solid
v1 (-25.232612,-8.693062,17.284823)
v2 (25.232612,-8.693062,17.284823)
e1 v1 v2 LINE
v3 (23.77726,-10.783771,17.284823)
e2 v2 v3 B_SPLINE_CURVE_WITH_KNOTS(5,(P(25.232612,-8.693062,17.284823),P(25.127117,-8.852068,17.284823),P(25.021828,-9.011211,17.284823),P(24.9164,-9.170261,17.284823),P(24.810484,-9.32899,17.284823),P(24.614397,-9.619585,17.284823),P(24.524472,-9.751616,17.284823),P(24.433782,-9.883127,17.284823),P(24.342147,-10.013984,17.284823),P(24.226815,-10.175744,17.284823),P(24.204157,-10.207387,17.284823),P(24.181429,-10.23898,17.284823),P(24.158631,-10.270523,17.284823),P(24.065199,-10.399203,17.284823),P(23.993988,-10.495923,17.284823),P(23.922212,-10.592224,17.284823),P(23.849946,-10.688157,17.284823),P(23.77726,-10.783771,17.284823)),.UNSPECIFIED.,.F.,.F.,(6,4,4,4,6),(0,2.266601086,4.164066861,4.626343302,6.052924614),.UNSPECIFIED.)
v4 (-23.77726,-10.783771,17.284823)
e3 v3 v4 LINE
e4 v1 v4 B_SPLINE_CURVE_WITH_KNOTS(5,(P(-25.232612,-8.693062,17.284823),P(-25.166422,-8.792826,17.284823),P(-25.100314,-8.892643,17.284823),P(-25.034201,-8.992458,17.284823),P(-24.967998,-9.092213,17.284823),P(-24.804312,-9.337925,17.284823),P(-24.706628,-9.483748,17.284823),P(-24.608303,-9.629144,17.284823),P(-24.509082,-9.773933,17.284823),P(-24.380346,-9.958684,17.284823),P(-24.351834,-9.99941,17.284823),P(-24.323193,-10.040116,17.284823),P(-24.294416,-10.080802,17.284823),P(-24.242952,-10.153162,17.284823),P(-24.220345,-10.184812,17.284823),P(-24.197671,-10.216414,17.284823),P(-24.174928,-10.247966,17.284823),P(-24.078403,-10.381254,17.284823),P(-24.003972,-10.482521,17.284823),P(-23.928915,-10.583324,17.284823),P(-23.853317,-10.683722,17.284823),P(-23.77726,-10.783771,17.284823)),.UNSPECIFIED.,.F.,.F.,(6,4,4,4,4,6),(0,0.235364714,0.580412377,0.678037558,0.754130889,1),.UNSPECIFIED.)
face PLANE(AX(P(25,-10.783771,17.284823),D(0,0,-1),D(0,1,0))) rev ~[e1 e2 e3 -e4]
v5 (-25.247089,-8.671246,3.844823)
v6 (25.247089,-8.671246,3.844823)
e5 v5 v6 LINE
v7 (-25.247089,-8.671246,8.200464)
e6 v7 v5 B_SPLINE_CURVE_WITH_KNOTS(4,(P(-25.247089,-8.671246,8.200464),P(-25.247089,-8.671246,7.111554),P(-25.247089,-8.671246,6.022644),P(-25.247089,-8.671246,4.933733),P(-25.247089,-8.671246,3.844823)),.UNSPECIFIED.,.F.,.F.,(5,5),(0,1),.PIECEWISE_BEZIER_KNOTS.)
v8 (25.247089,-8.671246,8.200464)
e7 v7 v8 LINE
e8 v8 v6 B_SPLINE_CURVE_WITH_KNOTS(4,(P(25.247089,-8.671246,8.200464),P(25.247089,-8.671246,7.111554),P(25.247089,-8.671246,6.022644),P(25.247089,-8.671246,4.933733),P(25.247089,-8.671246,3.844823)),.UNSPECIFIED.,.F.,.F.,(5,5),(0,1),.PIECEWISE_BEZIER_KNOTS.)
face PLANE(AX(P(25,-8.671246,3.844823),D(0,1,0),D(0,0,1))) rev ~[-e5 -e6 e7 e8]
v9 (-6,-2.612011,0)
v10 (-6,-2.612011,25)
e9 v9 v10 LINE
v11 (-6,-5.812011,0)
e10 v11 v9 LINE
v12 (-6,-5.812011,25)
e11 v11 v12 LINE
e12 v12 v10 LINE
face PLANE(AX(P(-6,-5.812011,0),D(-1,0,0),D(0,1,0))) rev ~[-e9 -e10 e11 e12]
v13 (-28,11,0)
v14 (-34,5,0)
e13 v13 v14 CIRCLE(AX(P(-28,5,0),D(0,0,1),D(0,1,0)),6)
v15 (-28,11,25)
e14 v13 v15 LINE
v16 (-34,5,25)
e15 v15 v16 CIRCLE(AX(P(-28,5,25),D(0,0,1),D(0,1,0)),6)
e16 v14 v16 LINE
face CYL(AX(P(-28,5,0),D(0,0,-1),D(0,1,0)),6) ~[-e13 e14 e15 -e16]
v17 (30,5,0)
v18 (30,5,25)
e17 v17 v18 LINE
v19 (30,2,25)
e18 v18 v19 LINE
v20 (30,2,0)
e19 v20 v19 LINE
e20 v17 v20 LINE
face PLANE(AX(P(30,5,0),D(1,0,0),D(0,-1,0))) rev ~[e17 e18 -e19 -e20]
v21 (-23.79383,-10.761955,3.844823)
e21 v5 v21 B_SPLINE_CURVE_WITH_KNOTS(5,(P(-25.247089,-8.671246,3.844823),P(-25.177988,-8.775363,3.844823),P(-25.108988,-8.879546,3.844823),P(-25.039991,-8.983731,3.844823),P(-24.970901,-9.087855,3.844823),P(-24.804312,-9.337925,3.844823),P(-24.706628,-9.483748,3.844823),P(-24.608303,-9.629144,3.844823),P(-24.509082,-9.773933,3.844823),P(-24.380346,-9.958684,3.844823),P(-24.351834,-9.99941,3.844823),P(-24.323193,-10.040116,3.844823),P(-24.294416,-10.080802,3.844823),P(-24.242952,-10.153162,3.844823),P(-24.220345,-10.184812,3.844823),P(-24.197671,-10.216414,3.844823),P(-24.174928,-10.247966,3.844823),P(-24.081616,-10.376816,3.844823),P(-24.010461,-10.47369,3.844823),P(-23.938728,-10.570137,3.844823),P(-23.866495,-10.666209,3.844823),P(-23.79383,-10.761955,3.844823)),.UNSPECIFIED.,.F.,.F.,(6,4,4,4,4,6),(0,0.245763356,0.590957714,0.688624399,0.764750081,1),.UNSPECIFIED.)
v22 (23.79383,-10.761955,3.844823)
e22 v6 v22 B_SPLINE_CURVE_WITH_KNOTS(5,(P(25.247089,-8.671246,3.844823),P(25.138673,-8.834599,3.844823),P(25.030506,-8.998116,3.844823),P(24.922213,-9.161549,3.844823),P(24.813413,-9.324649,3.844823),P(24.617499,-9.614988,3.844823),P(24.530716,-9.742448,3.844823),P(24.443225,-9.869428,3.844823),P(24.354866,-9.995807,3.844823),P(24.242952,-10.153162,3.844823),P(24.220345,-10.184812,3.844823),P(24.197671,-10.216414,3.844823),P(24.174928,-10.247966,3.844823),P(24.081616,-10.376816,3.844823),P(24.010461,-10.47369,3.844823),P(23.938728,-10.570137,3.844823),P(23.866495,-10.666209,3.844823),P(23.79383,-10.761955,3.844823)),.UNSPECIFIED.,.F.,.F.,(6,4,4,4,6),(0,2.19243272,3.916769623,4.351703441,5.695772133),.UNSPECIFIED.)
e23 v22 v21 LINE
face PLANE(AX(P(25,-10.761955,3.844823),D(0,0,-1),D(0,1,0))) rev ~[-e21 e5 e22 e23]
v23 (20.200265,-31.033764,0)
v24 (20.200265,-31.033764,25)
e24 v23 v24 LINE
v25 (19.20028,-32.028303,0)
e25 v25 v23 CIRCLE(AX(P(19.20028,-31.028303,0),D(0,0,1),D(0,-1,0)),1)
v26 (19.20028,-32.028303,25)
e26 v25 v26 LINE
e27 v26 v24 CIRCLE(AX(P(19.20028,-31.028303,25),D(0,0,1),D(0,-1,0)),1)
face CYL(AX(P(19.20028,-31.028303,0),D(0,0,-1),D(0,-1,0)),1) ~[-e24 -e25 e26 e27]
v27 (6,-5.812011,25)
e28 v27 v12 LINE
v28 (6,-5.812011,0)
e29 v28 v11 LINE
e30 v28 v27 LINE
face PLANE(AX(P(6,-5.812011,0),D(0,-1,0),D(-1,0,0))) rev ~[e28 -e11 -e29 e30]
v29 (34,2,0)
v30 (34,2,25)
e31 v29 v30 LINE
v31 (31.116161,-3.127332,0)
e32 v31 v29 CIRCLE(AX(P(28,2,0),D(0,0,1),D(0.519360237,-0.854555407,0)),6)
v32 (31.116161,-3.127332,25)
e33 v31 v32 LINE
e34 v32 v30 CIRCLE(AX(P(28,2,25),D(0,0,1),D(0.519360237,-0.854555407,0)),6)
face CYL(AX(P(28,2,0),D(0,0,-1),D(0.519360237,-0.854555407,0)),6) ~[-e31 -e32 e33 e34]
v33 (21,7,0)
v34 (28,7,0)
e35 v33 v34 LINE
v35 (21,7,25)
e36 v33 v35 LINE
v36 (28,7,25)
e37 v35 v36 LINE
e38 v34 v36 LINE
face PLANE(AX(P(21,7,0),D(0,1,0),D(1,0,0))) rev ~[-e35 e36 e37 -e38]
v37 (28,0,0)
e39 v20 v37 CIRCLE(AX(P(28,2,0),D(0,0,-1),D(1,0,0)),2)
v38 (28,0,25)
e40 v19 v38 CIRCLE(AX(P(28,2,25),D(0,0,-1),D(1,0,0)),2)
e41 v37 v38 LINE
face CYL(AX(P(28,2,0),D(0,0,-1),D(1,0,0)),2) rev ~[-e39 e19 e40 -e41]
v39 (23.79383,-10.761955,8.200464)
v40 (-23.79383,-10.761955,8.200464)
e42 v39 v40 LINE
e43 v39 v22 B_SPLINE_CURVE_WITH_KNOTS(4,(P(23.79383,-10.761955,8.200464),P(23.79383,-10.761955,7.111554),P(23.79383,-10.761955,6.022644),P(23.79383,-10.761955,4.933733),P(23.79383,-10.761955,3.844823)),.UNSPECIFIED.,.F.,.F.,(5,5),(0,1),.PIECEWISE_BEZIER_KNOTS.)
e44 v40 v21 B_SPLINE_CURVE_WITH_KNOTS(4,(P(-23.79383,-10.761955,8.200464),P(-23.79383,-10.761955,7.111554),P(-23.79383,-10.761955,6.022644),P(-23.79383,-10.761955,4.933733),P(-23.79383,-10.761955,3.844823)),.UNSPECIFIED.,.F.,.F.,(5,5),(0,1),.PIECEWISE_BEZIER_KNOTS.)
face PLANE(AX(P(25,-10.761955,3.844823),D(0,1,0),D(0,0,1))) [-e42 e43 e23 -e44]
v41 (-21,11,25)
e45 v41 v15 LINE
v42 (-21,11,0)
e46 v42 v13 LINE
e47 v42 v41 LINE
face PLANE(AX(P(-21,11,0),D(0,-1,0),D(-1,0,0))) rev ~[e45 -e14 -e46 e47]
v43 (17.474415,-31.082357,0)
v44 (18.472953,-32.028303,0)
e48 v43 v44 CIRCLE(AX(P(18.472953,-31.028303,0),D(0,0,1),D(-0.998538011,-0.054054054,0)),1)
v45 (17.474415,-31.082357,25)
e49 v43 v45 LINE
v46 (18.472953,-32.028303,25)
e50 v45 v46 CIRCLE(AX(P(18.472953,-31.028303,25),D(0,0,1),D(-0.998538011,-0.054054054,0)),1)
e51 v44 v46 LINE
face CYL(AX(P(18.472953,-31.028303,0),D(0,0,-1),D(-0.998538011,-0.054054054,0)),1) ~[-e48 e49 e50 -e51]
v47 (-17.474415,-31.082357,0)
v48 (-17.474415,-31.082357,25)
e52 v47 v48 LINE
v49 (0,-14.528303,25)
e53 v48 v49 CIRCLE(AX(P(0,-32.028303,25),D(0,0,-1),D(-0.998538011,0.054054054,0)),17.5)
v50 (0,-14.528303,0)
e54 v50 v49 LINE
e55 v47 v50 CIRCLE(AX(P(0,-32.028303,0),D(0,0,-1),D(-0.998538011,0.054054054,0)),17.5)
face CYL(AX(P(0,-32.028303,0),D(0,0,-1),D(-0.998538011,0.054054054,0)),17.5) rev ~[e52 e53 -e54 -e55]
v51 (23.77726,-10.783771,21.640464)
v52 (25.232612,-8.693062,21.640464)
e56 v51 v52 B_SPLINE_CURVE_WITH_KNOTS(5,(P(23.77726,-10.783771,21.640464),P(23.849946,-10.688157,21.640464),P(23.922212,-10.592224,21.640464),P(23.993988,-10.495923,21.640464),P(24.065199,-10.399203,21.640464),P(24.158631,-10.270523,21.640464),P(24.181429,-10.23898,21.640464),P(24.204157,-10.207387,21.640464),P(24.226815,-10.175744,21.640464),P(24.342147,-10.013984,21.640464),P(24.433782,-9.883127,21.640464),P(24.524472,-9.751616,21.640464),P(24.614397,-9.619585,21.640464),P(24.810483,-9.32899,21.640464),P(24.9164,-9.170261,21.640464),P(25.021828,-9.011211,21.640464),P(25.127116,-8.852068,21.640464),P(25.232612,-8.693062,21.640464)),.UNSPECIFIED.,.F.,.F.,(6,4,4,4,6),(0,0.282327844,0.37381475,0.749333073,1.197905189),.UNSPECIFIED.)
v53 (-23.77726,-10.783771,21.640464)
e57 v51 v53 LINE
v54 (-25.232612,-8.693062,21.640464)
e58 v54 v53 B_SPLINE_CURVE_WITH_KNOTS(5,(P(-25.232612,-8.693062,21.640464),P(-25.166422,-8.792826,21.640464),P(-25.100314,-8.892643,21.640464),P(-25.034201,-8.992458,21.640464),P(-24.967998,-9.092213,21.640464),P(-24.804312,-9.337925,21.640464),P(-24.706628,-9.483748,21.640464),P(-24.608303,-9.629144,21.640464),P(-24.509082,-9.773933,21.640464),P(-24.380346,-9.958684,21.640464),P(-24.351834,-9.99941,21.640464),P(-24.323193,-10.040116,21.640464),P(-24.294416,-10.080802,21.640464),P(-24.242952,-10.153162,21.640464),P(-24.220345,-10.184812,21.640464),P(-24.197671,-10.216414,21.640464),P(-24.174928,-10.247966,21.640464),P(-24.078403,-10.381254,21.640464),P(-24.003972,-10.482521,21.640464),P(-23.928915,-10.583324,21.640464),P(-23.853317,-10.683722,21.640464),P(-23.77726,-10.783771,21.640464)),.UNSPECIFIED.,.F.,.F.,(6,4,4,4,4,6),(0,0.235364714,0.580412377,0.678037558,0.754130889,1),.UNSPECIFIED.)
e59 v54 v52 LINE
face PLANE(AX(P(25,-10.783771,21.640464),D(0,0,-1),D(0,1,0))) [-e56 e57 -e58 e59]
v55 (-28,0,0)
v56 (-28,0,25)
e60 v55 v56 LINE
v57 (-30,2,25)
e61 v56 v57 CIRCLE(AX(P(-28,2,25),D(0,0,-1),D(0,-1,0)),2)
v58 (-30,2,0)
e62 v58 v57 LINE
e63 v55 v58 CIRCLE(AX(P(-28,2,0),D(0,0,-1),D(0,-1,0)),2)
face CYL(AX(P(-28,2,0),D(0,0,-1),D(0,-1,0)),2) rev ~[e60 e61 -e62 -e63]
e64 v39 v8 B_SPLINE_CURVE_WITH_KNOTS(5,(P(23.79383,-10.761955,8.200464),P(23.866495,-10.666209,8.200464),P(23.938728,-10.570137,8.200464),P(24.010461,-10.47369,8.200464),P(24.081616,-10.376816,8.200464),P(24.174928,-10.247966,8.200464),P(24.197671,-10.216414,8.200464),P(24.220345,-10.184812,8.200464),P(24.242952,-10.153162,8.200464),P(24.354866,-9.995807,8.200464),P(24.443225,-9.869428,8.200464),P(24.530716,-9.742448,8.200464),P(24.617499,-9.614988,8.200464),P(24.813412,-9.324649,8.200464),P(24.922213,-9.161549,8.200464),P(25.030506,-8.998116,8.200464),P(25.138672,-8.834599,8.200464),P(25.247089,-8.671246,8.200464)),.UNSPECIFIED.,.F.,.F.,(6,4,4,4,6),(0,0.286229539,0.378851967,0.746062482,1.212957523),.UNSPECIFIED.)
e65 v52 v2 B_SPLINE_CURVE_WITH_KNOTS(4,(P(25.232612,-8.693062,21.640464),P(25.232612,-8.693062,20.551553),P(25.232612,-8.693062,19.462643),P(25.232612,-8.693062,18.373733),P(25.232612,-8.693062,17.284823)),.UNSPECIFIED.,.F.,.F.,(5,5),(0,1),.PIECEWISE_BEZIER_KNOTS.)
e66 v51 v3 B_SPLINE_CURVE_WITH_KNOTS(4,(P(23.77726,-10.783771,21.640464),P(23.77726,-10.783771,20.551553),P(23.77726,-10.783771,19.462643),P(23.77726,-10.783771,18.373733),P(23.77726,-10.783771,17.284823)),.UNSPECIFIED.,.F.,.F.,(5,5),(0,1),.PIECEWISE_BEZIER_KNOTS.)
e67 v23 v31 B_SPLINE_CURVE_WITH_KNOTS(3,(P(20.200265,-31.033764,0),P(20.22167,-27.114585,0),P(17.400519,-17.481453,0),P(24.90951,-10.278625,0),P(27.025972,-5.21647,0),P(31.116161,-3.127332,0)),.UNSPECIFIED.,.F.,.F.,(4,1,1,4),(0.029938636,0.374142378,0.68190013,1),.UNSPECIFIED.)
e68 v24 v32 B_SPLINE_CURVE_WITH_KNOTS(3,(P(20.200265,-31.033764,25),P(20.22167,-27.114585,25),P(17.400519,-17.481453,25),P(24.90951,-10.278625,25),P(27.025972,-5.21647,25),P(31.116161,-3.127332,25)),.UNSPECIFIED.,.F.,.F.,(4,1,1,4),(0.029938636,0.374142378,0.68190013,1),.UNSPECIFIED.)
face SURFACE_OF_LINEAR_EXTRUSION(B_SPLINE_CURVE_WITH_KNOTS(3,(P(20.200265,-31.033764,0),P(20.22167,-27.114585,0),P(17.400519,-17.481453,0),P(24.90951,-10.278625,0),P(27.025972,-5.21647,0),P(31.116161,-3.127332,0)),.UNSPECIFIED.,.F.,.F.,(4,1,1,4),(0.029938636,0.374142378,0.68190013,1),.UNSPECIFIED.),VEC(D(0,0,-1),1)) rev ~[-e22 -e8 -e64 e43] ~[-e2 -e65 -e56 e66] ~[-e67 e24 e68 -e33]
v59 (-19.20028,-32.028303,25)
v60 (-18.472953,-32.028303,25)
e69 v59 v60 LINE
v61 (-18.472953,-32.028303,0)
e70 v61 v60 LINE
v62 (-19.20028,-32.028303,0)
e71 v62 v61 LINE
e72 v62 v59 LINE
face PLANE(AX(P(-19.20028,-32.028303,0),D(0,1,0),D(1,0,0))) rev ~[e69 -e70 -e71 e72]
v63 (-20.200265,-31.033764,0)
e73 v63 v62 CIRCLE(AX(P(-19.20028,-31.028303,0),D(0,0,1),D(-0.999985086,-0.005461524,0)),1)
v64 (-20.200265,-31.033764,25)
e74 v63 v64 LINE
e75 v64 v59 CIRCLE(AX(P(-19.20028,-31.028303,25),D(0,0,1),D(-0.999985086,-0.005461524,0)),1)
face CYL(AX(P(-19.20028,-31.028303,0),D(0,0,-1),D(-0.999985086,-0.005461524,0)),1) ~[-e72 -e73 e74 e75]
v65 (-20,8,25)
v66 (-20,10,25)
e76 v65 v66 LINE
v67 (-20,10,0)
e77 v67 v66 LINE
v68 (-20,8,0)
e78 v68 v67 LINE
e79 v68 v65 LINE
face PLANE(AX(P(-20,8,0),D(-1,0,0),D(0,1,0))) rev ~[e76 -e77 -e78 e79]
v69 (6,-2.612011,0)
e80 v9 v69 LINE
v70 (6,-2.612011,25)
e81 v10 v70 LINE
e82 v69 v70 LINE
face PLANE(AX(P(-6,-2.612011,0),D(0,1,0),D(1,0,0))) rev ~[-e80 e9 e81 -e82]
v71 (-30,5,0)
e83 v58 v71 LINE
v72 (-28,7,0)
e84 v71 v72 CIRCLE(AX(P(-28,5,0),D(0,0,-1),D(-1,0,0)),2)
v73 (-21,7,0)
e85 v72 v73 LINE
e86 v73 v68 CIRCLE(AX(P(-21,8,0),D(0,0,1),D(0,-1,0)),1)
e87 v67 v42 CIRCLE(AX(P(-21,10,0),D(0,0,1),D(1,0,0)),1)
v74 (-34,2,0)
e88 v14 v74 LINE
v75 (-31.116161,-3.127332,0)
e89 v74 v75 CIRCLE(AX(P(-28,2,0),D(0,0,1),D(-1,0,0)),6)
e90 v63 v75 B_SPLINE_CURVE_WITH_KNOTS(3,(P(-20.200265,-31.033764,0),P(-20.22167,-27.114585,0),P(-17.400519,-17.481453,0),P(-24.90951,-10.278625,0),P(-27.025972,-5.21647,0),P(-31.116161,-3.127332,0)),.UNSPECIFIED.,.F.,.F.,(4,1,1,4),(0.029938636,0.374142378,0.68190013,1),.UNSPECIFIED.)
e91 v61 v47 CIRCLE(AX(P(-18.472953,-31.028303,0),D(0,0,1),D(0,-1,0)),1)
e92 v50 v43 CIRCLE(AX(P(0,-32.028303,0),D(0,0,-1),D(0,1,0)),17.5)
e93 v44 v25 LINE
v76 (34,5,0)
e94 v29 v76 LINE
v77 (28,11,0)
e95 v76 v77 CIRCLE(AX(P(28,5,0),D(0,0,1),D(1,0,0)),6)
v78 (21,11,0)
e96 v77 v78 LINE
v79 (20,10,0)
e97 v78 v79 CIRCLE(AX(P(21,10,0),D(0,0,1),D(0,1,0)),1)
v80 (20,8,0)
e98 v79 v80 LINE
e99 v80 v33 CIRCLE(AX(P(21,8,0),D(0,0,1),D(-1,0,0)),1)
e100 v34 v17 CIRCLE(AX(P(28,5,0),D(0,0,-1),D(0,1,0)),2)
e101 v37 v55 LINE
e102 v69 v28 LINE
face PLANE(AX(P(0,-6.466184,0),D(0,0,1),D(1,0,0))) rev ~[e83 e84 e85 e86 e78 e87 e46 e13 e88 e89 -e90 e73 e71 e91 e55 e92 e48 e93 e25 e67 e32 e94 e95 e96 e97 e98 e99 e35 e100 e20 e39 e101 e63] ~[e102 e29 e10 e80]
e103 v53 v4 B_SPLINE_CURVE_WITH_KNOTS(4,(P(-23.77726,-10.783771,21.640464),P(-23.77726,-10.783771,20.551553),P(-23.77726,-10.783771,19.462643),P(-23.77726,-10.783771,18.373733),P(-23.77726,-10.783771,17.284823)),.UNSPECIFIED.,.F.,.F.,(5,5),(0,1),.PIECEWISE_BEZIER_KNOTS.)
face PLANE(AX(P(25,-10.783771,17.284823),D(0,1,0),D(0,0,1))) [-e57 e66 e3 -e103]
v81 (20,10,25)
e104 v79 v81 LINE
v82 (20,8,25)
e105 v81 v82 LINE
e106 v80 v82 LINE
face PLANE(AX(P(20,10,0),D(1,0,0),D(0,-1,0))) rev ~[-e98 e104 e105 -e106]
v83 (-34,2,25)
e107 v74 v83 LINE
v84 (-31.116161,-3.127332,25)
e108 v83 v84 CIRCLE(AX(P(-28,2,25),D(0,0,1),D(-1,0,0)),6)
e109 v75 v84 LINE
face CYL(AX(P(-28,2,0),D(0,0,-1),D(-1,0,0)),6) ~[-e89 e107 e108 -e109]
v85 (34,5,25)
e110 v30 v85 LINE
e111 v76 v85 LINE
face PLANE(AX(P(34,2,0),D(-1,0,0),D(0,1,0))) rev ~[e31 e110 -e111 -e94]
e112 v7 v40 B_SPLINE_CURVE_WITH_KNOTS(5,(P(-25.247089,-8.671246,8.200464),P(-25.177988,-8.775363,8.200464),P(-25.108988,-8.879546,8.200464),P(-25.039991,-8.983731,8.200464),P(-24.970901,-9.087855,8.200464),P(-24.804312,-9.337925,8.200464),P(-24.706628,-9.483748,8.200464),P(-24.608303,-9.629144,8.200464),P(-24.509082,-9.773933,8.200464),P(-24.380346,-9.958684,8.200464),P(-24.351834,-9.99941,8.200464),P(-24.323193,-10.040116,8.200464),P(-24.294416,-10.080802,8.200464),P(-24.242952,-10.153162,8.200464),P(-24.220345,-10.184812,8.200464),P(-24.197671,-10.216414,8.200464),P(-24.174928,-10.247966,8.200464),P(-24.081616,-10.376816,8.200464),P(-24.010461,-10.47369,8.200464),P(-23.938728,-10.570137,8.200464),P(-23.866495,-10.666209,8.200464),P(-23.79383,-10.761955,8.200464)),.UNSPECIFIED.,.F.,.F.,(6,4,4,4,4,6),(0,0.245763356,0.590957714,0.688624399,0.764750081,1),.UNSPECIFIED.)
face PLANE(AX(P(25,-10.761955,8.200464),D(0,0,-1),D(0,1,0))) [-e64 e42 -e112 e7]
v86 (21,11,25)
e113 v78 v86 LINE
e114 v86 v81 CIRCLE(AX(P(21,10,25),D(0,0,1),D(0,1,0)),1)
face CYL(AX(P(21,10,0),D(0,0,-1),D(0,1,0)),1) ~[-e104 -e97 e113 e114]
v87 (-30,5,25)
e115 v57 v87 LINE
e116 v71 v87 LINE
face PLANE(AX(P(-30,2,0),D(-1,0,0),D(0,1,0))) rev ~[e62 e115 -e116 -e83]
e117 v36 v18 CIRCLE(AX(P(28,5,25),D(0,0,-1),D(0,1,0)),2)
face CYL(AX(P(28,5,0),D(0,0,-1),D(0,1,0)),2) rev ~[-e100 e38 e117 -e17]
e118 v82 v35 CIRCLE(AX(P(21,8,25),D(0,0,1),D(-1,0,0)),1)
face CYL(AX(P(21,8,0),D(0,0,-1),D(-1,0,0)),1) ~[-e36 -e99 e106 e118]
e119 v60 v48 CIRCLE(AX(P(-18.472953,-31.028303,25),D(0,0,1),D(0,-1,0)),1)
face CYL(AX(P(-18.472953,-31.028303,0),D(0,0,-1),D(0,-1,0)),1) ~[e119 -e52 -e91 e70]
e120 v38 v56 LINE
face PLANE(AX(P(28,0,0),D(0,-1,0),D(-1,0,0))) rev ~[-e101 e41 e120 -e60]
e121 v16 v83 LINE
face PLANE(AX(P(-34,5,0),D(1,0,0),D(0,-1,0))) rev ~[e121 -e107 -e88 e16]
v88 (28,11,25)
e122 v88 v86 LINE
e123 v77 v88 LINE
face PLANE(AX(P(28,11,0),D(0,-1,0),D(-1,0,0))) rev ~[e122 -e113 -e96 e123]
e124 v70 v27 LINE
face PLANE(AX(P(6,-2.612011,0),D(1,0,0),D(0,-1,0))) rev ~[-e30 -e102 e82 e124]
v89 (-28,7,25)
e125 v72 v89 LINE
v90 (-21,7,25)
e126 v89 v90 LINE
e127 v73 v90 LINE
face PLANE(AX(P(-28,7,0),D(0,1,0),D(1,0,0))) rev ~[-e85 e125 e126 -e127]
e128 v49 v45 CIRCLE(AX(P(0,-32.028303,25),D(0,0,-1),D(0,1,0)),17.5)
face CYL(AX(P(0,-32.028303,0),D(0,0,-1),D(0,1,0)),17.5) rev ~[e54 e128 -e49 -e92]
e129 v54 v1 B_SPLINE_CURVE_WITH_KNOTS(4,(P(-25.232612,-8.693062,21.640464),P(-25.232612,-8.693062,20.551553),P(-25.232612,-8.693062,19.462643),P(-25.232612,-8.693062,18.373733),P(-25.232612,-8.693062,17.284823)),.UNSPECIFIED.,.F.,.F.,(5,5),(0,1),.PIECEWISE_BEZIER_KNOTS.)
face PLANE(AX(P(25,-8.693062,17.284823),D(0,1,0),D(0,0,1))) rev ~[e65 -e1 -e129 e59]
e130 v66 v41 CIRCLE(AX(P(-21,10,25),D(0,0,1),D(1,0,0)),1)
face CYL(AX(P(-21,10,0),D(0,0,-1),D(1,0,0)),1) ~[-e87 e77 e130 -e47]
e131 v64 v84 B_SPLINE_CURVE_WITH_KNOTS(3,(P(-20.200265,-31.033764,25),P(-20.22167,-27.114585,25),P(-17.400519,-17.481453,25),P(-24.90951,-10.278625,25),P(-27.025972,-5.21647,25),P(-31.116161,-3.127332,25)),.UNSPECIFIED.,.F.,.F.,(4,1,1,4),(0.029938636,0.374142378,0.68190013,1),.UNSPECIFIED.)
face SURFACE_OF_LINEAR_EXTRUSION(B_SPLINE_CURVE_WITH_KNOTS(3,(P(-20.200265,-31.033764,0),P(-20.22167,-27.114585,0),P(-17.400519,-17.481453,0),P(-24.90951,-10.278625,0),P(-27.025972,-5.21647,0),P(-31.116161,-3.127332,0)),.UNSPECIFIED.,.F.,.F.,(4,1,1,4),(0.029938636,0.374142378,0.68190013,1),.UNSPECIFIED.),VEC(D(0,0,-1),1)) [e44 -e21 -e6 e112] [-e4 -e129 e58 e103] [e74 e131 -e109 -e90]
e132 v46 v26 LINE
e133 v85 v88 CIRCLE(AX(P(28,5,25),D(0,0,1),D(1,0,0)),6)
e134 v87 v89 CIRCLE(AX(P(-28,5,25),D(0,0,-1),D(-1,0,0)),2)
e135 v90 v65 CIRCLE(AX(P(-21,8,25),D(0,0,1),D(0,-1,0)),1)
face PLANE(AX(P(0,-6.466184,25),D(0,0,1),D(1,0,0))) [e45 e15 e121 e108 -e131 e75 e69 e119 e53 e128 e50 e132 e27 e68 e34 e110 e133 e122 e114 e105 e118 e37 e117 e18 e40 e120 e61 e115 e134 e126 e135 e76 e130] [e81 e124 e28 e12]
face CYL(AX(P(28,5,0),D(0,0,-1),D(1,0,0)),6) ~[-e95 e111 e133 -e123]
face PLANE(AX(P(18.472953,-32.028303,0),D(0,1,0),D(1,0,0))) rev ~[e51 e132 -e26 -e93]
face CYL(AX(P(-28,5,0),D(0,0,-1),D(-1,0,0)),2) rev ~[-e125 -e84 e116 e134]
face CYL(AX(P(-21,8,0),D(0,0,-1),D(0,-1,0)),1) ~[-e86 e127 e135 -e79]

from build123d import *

# Parameters (mm, degrees)
F1_DEPTH      = 25
F3_W          = 2.0907083526
F3_H          = 4.3556410819
F4_DEPTH      = 59.0010001
F4_DEPTH_BACK = 25


with BuildPart() as f1:
    # F0 (on Top) → F1 (new body)
    with BuildSketch(Plane.XY):
        with BuildLine():
            Line((28, 0), (0, 0))
            Line((0, 0), (-28, 0))
            ThreePointArc((-28, 0), (-29.4142135624, 0.5857864376), (-30, 2))
            Line((-30, 2), (-30, 5))
            ThreePointArc((-30, 5), (-29.4142135624, 6.4142135624), (-28, 7))
            Line((-28, 7), (-21, 7))
            ThreePointArc((-21, 7), (-20.2928932188, 7.2928932188), (-20, 8))
            Line((-20, 8), (-20, 10))
            ThreePointArc((-20, 10), (-20.2928932188, 10.7071067812), (-21, 11))
            Line((-21, 11), (-28, 11))
            ThreePointArc((-28, 11), (-32.2426406871, 9.2426406871), (-34, 5))
            Line((-34, 5), (-34, 2))
            ThreePointArc((-34, 2), (-33.2295778289, -0.9413459047), (-31.116161423, -3.1273324435))
            add(Edge.make_bspline(
                [(-20.2002647828, -31.033764074), (-20.2216697913, -27.1145849984), (-17.4005191837, -17.4814529394), (-24.9095102489, -10.2786252936), (-27.0259722507, -5.2164699757), (-31.116161423, -3.1273324435)],
                knots=[0.0299386357, 0.0299386357, 0.0299386357, 0.0299386357, 0.374142378, 0.6819001297, 1, 1, 1, 1], degree=3))
            ThreePointArc((-20.2002647828, -31.033764074), (-19.9054528943, -31.7373376424), (-19.200279697, -32.0283025503))
            Line((-19.200279697, -32.0283025503), (-18.4729532019, -32.0283025503))
            ThreePointArc((-18.4729532019, -32.0283025503), (-17.7852228965, -31.7542688216), (-17.474415191, -31.0823566044))
            ThreePointArc((-17.474415191, -31.0823566044), (-12.0352803446, -19.323892803), (0, -14.5283025503))
            ThreePointArc((0, -14.5283025503), (12.0352803446, -19.323892803), (17.474415191, -31.0823566044))
            ThreePointArc((17.474415191, -31.0823566044), (17.7852228965, -31.7542688216), (18.4729532019, -32.0283025503))
            Line((18.4729532019, -32.0283025503), (19.200279697, -32.0283025503))
            ThreePointArc((19.200279697, -32.0283025503), (19.9054528943, -31.7373376424), (20.2002647828, -31.033764074))
            add(Edge.make_bspline(
                [(20.2002647828, -31.033764074), (20.2216697913, -27.1145849984), (17.4005191837, -17.4814529394), (24.9095102489, -10.2786252936), (27.0259722507, -5.2164699757), (31.116161423, -3.1273324435)],
                knots=[0.0299386357, 0.0299386357, 0.0299386357, 0.0299386357, 0.374142378, 0.6819001297, 1, 1, 1, 1], degree=3))
            ThreePointArc((31.116161423, -3.1273324435), (33.2295778289, -0.9413459047), (34, 2))
            Line((34, 2), (34, 5))
            ThreePointArc((34, 5), (32.2426406871, 9.2426406871), (28, 11))
            Line((28, 11), (21, 11))
            ThreePointArc((21, 11), (20.2928932188, 10.7071067812), (20, 10))
            Line((20, 10), (20, 8))
            ThreePointArc((20, 8), (20.2928932188, 7.2928932188), (21, 7))
            Line((21, 7), (28, 7))
            ThreePointArc((28, 7), (29.4142135624, 6.4142135624), (30, 5))
            Line((30, 5), (30, 2))
            ThreePointArc((30, 2), (29.4142135624, 0.5857864376), (28, 0))
        make_face()
        Polygon((-6, -2.6120110326), (0, -2.6120110326), (6, -2.6120110326), (6, -5.8120110326), (-6, -5.8120110326), align=None, mode=Mode.SUBTRACT)
    extrude(amount=F1_DEPTH)

    # F3 (on offset) → F4 (cut, two sides)
    with BuildSketch(Plane.YZ.offset(25)) as f4_sk:
        with Locations((-9.738416411, 19.4626431912)):
            Rectangle(F3_W, F3_H)
        with Locations((-9.7166006453, 6.0226437636)):
            Rectangle(F3_W, F3_H)
    extrude(amount=-F4_DEPTH, mode=Mode.SUBTRACT)
    extrude(f4_sk.sketch, amount=F4_DEPTH_BACK, mode=Mode.SUBTRACT)


solid = f1.part
